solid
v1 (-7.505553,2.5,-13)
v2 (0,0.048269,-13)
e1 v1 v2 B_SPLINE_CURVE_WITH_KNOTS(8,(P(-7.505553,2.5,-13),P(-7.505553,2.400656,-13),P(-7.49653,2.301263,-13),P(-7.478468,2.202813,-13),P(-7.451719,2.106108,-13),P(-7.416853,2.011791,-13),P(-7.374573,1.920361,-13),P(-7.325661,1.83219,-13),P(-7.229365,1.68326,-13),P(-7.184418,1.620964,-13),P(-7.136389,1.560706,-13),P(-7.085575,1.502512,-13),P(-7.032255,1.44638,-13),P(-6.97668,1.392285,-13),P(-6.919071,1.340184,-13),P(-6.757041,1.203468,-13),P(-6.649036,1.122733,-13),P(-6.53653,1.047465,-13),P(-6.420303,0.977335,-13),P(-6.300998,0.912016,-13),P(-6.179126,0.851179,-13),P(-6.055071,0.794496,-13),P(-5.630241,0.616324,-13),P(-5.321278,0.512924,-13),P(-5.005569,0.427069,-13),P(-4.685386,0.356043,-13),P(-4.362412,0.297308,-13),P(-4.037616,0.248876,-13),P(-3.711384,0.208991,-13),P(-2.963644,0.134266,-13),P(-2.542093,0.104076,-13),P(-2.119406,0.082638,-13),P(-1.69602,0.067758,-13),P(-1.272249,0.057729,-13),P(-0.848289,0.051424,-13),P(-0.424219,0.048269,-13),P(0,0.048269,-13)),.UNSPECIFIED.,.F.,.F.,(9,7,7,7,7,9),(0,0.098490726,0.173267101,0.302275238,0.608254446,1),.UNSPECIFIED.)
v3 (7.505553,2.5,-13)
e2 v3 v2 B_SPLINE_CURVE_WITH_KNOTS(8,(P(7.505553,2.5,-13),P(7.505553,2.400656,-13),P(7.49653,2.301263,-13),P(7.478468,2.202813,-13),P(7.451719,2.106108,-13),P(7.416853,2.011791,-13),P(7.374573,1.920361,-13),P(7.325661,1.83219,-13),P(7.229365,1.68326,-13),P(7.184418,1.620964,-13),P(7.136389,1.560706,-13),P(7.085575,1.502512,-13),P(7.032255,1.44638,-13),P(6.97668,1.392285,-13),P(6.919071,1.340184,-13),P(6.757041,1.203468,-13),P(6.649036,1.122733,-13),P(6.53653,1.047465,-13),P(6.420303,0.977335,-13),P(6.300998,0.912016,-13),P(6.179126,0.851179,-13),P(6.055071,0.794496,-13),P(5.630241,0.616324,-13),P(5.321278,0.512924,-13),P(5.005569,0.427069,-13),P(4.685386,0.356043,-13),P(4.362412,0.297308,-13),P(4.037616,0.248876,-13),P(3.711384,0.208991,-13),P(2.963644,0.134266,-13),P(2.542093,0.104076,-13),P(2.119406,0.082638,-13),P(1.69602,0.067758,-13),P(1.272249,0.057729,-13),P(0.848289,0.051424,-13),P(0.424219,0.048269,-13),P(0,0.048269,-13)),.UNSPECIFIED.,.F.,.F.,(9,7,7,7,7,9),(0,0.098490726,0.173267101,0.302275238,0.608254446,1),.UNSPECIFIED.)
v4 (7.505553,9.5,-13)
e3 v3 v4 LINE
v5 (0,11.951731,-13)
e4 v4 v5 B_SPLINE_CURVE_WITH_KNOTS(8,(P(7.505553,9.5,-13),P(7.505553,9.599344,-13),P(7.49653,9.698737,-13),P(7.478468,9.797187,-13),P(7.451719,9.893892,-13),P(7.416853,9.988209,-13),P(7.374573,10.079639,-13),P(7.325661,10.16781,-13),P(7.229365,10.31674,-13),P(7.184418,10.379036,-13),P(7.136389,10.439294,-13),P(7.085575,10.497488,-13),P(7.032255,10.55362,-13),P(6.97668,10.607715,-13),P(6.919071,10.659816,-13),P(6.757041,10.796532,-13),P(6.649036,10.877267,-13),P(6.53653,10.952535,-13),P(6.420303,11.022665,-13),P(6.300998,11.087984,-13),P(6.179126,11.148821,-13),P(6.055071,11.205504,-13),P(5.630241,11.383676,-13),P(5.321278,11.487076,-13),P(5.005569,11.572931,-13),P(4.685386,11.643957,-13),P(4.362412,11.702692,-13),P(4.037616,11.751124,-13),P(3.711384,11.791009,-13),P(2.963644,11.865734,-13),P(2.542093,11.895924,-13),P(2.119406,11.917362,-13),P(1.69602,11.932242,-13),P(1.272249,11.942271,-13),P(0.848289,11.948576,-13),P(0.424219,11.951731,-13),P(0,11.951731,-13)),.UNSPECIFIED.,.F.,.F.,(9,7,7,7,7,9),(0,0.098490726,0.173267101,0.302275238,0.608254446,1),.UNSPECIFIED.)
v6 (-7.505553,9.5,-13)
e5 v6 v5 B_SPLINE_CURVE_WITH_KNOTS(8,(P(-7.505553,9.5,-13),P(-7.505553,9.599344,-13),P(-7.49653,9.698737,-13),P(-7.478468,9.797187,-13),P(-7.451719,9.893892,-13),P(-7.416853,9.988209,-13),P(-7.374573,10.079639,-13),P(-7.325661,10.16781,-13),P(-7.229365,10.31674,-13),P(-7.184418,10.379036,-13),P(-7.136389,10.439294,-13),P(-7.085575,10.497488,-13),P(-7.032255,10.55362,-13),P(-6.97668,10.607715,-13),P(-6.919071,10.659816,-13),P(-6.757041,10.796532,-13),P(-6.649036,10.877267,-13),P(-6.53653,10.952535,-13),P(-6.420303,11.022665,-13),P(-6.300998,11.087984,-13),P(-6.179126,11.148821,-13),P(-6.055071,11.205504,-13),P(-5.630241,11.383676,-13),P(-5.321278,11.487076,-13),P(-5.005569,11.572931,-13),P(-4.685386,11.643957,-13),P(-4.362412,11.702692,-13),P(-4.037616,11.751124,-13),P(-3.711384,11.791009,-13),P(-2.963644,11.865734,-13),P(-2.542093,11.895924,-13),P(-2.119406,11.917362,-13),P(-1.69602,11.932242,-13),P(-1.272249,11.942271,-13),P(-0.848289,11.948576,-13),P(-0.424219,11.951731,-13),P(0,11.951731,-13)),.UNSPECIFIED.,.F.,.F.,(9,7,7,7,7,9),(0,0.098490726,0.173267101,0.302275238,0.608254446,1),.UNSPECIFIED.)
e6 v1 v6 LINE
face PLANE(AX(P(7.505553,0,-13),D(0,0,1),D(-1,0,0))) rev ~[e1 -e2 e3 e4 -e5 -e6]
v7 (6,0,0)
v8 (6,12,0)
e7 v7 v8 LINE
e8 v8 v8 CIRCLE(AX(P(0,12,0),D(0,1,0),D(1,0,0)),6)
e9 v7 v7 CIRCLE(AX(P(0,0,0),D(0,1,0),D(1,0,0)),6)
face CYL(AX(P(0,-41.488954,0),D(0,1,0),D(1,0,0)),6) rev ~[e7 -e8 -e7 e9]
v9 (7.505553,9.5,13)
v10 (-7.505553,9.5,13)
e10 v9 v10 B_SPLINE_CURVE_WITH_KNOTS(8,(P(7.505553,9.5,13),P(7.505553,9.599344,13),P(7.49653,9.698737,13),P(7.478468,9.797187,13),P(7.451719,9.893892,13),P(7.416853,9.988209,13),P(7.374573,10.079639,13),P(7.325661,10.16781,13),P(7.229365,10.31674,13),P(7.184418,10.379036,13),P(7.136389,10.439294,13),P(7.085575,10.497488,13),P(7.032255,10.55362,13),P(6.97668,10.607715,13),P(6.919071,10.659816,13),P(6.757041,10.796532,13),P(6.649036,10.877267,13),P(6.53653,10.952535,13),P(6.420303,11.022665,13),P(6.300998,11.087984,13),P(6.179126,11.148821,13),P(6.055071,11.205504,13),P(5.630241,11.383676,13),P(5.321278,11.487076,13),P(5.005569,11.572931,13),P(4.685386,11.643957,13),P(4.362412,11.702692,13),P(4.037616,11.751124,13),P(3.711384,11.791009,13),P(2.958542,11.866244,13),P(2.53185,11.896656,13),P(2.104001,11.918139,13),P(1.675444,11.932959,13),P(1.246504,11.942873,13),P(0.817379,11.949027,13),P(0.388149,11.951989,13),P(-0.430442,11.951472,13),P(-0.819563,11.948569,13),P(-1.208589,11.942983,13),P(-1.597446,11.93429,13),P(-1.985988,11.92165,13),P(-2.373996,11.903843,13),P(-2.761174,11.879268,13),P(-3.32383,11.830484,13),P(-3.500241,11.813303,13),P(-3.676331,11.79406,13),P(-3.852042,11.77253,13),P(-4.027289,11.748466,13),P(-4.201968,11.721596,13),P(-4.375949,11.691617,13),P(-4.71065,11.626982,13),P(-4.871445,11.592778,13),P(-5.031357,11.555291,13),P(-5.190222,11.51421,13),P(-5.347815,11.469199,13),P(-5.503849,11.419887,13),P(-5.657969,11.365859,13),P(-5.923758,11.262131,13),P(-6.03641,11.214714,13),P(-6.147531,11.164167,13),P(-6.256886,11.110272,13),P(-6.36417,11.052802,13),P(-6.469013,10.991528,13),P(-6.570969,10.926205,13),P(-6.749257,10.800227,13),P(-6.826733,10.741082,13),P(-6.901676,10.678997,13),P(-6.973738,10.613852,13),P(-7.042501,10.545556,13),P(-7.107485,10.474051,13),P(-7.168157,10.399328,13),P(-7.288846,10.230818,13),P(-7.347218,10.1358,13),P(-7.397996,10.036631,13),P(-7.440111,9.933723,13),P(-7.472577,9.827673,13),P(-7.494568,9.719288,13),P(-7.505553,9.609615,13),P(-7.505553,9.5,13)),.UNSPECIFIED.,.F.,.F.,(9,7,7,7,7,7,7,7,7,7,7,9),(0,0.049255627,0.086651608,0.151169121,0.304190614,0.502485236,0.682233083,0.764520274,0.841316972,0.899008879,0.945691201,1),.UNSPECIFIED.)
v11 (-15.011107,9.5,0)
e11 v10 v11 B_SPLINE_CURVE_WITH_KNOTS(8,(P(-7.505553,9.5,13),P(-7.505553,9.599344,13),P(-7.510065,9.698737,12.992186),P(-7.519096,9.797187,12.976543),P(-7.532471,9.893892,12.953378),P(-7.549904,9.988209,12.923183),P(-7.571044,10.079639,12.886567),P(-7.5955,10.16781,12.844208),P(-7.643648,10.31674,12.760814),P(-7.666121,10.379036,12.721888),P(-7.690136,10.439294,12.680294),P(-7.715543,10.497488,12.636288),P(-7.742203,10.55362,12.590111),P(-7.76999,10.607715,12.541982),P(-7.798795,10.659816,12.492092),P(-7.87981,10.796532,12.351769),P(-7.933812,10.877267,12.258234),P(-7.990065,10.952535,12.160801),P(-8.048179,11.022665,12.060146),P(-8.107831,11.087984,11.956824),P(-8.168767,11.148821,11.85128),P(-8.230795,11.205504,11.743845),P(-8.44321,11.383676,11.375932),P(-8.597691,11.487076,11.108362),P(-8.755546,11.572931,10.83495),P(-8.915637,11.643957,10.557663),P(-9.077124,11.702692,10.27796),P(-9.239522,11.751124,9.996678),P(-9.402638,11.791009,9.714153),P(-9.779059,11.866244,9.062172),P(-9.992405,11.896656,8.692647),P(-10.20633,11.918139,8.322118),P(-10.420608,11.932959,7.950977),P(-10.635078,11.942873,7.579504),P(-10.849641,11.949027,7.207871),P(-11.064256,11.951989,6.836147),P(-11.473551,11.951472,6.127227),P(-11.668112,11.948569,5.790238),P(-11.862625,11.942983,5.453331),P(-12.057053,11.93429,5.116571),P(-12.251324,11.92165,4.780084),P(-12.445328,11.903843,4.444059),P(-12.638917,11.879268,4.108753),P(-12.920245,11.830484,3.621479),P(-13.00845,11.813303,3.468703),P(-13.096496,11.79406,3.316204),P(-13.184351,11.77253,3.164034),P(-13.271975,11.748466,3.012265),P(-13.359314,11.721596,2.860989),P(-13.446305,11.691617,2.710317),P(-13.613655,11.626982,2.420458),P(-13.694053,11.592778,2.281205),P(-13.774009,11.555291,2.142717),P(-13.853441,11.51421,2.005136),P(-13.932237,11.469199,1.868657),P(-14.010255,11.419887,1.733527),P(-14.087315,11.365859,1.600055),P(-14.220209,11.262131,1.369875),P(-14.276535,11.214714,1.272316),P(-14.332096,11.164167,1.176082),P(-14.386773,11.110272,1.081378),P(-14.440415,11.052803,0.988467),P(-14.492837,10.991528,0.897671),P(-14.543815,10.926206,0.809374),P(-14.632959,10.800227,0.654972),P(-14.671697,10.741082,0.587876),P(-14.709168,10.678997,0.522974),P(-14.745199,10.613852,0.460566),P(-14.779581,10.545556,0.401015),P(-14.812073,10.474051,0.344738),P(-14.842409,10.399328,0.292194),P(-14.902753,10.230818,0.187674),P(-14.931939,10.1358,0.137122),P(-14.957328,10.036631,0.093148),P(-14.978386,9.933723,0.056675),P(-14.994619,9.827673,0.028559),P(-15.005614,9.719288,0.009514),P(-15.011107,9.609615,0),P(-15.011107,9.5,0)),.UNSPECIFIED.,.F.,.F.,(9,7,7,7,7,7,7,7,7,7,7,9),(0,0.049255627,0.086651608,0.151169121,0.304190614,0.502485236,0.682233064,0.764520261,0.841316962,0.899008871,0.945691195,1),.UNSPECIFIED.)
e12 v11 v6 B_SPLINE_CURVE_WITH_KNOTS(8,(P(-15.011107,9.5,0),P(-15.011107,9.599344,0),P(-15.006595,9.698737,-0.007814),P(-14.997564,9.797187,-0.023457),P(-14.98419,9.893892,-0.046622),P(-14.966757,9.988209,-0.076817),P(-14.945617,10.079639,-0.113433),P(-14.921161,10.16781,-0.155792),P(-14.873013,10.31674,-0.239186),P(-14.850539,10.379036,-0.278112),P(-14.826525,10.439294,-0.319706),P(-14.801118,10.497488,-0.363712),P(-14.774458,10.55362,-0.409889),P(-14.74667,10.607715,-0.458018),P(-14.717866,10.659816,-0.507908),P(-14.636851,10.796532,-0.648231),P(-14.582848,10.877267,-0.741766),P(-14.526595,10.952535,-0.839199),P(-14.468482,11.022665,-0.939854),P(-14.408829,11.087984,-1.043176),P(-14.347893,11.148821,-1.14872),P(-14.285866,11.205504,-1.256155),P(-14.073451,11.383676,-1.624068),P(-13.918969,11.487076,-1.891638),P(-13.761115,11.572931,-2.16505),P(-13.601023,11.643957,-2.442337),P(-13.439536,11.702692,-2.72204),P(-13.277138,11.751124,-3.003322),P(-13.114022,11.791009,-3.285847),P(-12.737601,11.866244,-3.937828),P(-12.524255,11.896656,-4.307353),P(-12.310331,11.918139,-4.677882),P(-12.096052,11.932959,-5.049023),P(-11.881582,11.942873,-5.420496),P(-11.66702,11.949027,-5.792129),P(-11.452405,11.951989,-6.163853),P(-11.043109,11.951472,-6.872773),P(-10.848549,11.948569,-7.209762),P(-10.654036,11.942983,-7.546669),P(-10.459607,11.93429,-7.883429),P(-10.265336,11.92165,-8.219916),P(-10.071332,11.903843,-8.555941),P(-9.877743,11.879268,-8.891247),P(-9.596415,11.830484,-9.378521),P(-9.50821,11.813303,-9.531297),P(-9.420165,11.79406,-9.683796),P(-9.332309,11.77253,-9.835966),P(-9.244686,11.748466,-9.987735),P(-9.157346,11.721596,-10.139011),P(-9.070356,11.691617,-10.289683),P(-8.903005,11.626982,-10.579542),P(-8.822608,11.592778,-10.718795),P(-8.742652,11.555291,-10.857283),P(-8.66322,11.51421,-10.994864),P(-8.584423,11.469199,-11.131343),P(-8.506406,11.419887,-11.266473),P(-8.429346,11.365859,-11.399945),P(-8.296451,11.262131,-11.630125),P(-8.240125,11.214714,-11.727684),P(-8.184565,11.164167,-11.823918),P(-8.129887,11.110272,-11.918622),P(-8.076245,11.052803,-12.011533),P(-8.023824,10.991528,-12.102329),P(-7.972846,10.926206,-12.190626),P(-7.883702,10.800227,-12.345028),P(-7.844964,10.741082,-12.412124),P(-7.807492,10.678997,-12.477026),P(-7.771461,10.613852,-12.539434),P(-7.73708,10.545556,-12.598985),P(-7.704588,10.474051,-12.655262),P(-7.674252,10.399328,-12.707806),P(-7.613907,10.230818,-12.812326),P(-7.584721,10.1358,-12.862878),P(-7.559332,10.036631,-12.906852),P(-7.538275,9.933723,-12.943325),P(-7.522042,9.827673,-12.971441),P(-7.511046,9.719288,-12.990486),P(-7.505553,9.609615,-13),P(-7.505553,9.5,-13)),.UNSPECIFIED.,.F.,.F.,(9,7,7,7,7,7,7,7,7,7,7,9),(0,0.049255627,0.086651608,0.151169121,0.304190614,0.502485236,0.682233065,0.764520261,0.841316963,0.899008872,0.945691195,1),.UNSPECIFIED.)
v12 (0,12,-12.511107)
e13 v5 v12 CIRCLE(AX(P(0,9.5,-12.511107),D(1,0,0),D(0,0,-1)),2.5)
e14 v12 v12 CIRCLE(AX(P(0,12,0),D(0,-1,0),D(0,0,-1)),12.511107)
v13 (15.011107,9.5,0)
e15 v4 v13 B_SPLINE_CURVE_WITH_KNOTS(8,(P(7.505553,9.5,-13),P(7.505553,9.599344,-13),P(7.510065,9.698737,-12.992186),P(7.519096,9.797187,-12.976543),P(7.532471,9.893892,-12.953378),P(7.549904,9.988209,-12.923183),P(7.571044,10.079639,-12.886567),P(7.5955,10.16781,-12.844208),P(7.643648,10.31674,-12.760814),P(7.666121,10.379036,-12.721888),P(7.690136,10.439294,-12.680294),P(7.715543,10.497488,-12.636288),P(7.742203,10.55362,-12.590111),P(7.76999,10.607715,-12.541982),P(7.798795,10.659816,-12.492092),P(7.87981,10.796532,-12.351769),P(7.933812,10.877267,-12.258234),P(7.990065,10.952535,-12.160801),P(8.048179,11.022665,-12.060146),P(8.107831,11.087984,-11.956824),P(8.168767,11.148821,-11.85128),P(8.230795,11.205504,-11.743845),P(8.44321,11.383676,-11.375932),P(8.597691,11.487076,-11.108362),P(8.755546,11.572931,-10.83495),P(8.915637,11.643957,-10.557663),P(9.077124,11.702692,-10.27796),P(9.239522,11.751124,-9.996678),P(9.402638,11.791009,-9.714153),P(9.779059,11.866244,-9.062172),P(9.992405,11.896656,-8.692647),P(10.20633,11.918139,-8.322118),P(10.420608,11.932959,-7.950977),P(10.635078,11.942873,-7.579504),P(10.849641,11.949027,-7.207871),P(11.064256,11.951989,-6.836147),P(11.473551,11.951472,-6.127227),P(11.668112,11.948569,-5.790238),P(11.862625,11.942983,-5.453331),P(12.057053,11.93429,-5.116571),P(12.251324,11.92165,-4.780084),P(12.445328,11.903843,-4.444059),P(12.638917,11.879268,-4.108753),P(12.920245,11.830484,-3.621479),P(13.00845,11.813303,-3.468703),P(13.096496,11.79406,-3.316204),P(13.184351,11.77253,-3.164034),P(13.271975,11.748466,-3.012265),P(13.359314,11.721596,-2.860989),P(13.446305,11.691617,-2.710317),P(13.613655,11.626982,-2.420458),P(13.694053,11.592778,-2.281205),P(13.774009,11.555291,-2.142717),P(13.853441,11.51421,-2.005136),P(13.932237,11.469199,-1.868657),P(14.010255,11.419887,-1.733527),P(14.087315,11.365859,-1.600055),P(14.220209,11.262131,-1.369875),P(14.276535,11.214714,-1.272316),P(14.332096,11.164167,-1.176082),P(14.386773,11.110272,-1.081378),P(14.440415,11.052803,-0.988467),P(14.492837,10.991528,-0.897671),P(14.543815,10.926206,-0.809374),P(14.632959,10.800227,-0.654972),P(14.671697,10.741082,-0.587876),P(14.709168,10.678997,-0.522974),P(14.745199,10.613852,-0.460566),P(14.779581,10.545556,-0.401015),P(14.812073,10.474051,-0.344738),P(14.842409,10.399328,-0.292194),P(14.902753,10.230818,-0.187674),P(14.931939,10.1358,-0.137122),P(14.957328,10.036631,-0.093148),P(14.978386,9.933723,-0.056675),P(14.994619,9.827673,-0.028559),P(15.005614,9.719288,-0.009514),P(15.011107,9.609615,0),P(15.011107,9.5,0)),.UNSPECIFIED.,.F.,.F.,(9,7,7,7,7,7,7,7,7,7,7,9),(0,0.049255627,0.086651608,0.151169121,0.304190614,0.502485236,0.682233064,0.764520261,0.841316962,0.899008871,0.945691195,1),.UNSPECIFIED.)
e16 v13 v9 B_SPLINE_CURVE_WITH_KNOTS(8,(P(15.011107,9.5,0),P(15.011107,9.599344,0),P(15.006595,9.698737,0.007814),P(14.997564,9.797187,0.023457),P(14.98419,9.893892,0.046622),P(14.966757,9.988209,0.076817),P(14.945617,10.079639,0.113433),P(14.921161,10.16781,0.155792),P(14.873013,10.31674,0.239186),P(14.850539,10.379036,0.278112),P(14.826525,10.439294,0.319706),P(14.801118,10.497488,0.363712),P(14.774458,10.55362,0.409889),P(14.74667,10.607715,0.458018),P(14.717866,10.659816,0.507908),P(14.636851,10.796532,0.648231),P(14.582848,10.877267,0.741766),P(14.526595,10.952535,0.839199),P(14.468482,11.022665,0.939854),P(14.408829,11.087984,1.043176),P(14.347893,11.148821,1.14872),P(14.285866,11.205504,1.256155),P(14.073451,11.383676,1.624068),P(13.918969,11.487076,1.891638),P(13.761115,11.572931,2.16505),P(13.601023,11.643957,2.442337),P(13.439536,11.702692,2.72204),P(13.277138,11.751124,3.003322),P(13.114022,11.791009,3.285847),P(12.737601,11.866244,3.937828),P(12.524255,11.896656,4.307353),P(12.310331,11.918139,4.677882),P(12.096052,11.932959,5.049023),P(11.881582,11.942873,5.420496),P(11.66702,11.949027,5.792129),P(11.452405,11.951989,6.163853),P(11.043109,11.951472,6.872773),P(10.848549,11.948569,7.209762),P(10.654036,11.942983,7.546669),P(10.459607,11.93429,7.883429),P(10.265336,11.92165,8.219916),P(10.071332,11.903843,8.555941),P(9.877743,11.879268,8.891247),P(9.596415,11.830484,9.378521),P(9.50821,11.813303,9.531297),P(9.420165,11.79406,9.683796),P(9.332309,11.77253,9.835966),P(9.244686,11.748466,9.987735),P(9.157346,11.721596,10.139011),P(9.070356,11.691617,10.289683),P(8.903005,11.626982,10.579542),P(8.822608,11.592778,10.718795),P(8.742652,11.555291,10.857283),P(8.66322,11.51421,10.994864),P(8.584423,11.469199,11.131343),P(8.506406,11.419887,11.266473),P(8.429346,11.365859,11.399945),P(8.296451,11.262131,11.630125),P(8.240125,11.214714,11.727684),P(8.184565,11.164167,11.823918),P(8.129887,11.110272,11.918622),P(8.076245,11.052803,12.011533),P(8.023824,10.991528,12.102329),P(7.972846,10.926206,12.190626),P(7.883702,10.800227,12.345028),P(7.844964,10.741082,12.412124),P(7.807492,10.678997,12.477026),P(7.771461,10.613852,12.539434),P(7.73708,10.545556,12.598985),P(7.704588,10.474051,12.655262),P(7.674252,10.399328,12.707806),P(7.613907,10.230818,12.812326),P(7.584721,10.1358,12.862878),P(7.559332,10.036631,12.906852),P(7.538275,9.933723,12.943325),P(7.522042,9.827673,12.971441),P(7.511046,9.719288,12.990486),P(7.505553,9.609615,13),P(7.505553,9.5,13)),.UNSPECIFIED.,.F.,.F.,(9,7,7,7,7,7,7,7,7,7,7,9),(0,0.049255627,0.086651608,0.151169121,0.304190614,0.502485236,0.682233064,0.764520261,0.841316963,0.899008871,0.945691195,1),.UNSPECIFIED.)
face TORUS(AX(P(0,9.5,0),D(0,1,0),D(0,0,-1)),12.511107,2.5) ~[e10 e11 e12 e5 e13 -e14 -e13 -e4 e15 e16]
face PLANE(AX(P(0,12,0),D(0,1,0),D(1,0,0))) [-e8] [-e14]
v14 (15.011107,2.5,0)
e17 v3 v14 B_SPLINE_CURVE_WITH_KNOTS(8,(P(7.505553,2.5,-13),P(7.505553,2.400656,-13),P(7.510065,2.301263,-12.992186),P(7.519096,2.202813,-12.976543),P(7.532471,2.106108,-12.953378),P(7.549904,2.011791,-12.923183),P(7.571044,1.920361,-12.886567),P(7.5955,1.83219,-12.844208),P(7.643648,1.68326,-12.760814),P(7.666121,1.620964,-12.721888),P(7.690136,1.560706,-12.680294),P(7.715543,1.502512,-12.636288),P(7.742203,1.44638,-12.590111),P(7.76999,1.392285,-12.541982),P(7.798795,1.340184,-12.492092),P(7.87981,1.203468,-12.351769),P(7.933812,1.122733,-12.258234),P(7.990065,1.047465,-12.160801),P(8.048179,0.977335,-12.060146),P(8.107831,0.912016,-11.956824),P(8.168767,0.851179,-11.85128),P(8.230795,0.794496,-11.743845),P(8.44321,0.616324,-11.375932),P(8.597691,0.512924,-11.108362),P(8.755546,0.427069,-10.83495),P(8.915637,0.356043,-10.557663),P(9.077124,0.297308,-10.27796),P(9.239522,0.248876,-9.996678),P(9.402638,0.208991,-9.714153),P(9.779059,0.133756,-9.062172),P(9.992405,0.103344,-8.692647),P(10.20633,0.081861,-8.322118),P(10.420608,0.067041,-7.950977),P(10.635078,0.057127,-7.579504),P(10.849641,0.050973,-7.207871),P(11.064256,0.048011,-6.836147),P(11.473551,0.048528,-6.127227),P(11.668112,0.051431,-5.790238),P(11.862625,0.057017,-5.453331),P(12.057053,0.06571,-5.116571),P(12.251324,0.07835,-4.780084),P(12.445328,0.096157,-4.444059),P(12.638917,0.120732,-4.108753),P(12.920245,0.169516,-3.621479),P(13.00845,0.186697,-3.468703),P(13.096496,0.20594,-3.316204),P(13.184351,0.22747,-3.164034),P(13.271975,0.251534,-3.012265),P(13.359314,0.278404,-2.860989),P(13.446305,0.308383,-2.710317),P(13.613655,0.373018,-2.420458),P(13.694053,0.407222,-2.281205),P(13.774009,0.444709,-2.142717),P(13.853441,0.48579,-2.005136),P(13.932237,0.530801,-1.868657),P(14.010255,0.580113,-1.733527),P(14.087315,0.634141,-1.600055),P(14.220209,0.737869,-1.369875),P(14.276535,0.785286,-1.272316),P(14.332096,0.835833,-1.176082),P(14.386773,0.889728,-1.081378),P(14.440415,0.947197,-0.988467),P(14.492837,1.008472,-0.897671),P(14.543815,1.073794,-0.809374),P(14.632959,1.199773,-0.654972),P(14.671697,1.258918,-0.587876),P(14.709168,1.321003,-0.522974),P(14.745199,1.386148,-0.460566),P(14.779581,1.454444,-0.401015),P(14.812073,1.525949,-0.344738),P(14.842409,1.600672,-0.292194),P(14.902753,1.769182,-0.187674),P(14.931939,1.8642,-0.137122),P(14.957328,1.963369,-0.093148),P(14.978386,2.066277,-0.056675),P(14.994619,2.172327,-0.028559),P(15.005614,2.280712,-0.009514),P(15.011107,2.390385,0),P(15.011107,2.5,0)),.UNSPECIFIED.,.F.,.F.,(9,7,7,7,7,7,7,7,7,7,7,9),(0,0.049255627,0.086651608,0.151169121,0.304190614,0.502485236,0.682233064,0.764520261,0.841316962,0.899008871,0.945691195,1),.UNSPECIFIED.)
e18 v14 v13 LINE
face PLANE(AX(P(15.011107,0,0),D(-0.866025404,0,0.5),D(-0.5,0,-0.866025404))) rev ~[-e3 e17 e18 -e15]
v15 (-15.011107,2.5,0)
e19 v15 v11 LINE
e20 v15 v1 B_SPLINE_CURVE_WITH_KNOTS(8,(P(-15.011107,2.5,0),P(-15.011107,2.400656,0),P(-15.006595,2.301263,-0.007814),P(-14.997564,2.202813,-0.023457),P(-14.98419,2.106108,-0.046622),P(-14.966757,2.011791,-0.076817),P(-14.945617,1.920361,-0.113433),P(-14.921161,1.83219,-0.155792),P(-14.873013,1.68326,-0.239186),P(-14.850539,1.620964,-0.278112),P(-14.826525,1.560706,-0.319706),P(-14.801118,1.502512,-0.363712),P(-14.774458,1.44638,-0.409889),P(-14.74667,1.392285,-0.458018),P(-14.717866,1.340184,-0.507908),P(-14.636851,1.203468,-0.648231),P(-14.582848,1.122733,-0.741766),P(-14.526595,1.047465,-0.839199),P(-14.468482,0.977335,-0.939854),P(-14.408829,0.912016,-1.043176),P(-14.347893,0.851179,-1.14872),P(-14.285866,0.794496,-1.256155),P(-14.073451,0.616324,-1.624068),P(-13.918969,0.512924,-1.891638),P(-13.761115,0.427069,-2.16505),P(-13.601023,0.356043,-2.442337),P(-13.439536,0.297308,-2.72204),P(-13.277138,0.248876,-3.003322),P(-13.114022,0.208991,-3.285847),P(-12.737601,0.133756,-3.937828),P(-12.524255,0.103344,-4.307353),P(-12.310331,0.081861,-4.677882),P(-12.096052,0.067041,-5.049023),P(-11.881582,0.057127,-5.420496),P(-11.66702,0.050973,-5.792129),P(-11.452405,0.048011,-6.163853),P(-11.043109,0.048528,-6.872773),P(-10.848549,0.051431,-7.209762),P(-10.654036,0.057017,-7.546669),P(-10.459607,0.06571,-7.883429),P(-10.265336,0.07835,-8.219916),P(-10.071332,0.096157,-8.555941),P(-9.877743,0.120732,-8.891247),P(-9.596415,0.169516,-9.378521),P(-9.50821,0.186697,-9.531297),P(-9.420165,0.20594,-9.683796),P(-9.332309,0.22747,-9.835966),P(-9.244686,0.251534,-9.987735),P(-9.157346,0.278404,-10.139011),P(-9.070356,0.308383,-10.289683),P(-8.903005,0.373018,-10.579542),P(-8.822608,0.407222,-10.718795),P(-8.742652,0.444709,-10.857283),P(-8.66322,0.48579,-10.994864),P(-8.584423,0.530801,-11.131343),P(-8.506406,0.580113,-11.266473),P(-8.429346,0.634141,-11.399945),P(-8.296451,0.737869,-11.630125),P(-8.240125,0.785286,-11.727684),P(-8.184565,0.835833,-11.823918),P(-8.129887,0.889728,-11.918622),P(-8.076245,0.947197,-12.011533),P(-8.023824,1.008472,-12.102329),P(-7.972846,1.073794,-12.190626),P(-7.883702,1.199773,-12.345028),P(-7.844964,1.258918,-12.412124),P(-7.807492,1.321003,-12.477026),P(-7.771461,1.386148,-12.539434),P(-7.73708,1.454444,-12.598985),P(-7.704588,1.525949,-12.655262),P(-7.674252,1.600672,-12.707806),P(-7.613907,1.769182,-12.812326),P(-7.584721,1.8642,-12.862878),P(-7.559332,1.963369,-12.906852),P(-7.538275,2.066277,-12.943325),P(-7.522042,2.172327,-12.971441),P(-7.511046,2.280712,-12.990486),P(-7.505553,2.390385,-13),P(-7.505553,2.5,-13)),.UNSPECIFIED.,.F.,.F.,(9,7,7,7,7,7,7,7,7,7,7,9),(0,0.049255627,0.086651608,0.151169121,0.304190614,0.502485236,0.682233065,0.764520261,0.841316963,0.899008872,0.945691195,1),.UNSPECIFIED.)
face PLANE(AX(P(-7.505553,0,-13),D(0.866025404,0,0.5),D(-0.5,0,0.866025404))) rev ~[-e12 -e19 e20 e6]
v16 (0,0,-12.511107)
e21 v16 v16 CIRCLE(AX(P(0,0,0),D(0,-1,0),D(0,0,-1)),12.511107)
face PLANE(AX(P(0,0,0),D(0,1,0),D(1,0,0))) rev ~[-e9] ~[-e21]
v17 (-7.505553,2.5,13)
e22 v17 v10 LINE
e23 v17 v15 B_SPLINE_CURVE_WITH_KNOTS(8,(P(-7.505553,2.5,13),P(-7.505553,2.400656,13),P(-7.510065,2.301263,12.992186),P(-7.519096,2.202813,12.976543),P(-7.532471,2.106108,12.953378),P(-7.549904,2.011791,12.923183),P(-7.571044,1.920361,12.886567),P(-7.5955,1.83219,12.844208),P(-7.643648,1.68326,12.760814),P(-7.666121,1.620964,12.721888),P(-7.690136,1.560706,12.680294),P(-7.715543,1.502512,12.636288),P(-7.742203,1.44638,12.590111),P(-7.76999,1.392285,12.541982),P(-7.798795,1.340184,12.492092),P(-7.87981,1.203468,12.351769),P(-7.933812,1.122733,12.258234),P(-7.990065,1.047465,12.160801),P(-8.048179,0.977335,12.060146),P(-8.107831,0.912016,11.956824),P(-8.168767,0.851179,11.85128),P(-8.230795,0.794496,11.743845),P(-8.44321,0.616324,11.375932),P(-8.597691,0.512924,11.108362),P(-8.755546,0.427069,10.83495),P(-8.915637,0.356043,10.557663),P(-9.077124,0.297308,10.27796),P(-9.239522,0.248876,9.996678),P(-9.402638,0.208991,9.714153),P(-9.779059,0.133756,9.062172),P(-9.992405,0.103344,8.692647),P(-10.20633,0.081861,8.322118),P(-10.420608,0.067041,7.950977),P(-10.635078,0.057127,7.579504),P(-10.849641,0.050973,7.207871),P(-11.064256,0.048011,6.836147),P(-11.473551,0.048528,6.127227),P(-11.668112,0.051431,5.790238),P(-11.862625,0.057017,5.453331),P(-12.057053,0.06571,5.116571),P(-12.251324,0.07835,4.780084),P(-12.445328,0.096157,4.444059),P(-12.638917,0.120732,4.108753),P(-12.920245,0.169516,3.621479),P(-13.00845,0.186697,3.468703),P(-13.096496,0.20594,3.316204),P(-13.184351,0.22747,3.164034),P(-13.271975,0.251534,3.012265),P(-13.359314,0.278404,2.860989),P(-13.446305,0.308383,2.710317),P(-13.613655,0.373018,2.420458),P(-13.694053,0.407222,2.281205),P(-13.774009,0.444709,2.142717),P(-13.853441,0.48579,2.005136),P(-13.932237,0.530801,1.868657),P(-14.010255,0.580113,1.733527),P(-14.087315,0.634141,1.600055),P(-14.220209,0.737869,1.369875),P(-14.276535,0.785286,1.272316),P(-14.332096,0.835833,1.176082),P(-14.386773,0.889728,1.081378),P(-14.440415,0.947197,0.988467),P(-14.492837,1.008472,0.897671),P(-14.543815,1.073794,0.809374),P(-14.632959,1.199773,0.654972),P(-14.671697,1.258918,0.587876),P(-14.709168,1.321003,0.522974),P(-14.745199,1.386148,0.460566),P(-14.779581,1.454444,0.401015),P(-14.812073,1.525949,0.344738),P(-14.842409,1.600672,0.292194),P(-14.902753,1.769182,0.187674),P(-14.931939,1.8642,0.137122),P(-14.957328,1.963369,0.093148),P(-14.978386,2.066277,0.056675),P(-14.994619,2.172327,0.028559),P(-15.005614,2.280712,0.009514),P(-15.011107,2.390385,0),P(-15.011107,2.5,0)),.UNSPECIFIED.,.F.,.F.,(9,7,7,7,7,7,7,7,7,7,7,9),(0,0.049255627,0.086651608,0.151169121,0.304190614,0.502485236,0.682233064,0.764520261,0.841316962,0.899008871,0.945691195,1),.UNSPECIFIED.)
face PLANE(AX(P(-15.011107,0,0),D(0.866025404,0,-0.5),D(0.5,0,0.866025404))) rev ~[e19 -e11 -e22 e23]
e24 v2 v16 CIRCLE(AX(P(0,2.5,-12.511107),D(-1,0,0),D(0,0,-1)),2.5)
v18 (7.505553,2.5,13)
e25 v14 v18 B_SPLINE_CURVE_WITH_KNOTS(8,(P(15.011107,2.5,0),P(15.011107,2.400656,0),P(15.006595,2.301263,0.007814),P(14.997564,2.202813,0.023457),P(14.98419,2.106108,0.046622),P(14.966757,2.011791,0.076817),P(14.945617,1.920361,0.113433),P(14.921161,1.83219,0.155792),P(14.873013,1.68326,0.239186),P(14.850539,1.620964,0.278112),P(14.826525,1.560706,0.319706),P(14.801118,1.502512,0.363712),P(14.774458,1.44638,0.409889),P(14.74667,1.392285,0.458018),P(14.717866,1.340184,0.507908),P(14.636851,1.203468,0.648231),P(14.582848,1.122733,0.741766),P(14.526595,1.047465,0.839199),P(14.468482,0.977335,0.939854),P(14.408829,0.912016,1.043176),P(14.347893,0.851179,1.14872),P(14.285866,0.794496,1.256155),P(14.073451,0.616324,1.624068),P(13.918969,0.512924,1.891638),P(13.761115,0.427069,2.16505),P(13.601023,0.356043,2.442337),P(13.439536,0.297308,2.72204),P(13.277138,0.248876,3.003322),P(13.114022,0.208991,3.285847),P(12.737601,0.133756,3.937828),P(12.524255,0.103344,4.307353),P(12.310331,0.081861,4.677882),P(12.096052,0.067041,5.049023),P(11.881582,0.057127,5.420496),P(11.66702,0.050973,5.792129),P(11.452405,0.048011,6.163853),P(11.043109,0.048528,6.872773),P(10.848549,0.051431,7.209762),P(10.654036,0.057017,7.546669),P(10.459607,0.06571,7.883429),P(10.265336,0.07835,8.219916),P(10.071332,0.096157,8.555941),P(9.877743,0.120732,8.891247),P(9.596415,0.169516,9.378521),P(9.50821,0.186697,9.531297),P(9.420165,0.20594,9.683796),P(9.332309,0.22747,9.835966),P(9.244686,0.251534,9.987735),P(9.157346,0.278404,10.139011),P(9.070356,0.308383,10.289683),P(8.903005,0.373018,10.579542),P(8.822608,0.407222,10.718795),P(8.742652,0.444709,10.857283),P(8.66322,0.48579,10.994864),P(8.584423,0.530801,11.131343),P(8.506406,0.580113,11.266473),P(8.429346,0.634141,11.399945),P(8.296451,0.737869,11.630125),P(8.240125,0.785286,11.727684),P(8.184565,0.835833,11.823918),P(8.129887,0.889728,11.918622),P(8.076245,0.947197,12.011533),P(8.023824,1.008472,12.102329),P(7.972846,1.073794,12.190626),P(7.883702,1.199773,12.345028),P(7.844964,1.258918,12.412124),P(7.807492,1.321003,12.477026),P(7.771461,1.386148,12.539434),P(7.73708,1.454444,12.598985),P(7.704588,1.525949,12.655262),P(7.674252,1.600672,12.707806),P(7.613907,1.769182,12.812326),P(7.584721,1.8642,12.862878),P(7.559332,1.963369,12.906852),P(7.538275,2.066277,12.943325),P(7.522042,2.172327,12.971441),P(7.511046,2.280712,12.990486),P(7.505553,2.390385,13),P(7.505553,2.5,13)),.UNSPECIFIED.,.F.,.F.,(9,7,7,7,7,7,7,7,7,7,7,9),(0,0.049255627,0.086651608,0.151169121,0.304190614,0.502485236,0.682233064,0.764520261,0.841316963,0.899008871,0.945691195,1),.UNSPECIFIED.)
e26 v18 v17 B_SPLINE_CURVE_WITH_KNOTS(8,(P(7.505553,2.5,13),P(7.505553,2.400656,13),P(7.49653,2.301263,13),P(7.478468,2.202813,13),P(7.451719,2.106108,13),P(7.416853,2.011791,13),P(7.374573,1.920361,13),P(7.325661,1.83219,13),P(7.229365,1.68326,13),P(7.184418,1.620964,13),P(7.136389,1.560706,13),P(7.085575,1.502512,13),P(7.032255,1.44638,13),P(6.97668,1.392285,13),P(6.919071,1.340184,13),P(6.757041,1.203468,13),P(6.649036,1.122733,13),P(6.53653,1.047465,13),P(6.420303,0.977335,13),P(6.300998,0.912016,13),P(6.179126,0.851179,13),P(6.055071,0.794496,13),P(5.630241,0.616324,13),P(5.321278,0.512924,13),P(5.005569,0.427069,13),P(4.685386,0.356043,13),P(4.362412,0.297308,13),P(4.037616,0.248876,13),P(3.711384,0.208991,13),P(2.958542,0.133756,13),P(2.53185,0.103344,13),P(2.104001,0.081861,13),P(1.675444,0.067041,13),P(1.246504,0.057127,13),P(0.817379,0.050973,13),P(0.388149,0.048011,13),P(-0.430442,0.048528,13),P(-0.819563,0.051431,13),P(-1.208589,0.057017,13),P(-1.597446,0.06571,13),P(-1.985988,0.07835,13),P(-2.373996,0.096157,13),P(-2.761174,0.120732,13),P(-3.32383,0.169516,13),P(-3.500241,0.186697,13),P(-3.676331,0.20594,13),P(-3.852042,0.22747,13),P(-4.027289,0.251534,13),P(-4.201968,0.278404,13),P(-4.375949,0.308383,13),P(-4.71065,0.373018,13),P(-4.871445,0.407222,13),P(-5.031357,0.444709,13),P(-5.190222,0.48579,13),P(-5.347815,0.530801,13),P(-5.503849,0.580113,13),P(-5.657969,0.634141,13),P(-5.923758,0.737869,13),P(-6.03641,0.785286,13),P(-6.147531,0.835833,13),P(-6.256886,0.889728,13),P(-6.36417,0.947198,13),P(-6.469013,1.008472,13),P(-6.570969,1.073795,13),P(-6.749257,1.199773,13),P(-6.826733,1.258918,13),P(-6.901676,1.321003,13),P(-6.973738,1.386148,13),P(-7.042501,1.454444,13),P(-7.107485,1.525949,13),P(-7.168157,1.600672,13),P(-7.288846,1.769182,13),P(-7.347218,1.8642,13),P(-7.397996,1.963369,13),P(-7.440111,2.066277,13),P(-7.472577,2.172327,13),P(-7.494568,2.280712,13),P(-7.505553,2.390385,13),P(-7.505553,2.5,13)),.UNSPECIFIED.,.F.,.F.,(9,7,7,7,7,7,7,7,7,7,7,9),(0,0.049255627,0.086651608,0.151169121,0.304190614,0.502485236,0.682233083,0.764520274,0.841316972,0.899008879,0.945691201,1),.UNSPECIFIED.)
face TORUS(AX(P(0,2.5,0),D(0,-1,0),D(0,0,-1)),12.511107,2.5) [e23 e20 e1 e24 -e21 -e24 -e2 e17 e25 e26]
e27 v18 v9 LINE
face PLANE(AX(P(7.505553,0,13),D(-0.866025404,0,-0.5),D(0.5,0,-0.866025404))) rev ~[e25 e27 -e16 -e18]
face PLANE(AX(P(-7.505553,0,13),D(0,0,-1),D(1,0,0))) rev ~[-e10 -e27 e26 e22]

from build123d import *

# Parameters (mm, degrees)
BOSS_EXTRUDE1_DEPTH    = 12
F_12_0MM_DOWEL_HOLE1_D = 12


with BuildPart() as part:
    # Sketch1 → Boss-Extrude1 (new body)
    with BuildSketch(Plane(origin=(0, 0, 0), x_dir=(1, 0, 0), z_dir=(0, 1, 0))):
        Polygon((7.505553499, 13), (-7.505553499, 13), (-15.011106999, 0), (-7.505553499, -13), (7.505553499, -13), (15.011106999, 0), align=None)
    extrude(amount=BOSS_EXTRUDE1_DEPTH)

    # Ø12.0mm Dowel Hole1 (through all)
    with Locations(Plane(origin=(0, 0, 0), x_dir=(-1, 0, 0), z_dir=(0, -1, 0))):
        with Locations((0, 0)):
            Hole(F_12_0MM_DOWEL_HOLE1_D / 2)

    # Sketch4 → Cut-Revolve2 (revolve, cut)
    with BuildSketch(Plane.XY, mode=Mode.PRIVATE) as cut_revolve2_sk:
        with BuildLine():
            Line((19.381381373, -4.532480394), (19.381381373, 2.5))
            Line((19.381381373, 2.5), (15.011106999, 2.5))
            ThreePointArc((15.011106999, 2.5), (14.278873952, 0.732233047), (12.511106999, 0))
            Line((12.511106999, 0), (12.511106999, -4.532480394))
            Line((12.511106999, -4.532480394), (19.381381373, -4.532480394))
        make_face()
    cut_revolve2 = revolve(cut_revolve2_sk.sketch.rotate(Axis((0, 14.406395282, 0), (0, -1, 0)), 270), axis=Axis((0, 14.406395282, 0), (0, -1, 0)), mode=Mode.SUBTRACT)

    # Mirror1: Cut-Revolve2 across plane
    add(cut_revolve2.mirror(Plane(origin=(0, 6, 0), x_dir=(0, 0, 1), z_dir=(0, -1, 0))), mode=Mode.SUBTRACT)


solid = part.part
